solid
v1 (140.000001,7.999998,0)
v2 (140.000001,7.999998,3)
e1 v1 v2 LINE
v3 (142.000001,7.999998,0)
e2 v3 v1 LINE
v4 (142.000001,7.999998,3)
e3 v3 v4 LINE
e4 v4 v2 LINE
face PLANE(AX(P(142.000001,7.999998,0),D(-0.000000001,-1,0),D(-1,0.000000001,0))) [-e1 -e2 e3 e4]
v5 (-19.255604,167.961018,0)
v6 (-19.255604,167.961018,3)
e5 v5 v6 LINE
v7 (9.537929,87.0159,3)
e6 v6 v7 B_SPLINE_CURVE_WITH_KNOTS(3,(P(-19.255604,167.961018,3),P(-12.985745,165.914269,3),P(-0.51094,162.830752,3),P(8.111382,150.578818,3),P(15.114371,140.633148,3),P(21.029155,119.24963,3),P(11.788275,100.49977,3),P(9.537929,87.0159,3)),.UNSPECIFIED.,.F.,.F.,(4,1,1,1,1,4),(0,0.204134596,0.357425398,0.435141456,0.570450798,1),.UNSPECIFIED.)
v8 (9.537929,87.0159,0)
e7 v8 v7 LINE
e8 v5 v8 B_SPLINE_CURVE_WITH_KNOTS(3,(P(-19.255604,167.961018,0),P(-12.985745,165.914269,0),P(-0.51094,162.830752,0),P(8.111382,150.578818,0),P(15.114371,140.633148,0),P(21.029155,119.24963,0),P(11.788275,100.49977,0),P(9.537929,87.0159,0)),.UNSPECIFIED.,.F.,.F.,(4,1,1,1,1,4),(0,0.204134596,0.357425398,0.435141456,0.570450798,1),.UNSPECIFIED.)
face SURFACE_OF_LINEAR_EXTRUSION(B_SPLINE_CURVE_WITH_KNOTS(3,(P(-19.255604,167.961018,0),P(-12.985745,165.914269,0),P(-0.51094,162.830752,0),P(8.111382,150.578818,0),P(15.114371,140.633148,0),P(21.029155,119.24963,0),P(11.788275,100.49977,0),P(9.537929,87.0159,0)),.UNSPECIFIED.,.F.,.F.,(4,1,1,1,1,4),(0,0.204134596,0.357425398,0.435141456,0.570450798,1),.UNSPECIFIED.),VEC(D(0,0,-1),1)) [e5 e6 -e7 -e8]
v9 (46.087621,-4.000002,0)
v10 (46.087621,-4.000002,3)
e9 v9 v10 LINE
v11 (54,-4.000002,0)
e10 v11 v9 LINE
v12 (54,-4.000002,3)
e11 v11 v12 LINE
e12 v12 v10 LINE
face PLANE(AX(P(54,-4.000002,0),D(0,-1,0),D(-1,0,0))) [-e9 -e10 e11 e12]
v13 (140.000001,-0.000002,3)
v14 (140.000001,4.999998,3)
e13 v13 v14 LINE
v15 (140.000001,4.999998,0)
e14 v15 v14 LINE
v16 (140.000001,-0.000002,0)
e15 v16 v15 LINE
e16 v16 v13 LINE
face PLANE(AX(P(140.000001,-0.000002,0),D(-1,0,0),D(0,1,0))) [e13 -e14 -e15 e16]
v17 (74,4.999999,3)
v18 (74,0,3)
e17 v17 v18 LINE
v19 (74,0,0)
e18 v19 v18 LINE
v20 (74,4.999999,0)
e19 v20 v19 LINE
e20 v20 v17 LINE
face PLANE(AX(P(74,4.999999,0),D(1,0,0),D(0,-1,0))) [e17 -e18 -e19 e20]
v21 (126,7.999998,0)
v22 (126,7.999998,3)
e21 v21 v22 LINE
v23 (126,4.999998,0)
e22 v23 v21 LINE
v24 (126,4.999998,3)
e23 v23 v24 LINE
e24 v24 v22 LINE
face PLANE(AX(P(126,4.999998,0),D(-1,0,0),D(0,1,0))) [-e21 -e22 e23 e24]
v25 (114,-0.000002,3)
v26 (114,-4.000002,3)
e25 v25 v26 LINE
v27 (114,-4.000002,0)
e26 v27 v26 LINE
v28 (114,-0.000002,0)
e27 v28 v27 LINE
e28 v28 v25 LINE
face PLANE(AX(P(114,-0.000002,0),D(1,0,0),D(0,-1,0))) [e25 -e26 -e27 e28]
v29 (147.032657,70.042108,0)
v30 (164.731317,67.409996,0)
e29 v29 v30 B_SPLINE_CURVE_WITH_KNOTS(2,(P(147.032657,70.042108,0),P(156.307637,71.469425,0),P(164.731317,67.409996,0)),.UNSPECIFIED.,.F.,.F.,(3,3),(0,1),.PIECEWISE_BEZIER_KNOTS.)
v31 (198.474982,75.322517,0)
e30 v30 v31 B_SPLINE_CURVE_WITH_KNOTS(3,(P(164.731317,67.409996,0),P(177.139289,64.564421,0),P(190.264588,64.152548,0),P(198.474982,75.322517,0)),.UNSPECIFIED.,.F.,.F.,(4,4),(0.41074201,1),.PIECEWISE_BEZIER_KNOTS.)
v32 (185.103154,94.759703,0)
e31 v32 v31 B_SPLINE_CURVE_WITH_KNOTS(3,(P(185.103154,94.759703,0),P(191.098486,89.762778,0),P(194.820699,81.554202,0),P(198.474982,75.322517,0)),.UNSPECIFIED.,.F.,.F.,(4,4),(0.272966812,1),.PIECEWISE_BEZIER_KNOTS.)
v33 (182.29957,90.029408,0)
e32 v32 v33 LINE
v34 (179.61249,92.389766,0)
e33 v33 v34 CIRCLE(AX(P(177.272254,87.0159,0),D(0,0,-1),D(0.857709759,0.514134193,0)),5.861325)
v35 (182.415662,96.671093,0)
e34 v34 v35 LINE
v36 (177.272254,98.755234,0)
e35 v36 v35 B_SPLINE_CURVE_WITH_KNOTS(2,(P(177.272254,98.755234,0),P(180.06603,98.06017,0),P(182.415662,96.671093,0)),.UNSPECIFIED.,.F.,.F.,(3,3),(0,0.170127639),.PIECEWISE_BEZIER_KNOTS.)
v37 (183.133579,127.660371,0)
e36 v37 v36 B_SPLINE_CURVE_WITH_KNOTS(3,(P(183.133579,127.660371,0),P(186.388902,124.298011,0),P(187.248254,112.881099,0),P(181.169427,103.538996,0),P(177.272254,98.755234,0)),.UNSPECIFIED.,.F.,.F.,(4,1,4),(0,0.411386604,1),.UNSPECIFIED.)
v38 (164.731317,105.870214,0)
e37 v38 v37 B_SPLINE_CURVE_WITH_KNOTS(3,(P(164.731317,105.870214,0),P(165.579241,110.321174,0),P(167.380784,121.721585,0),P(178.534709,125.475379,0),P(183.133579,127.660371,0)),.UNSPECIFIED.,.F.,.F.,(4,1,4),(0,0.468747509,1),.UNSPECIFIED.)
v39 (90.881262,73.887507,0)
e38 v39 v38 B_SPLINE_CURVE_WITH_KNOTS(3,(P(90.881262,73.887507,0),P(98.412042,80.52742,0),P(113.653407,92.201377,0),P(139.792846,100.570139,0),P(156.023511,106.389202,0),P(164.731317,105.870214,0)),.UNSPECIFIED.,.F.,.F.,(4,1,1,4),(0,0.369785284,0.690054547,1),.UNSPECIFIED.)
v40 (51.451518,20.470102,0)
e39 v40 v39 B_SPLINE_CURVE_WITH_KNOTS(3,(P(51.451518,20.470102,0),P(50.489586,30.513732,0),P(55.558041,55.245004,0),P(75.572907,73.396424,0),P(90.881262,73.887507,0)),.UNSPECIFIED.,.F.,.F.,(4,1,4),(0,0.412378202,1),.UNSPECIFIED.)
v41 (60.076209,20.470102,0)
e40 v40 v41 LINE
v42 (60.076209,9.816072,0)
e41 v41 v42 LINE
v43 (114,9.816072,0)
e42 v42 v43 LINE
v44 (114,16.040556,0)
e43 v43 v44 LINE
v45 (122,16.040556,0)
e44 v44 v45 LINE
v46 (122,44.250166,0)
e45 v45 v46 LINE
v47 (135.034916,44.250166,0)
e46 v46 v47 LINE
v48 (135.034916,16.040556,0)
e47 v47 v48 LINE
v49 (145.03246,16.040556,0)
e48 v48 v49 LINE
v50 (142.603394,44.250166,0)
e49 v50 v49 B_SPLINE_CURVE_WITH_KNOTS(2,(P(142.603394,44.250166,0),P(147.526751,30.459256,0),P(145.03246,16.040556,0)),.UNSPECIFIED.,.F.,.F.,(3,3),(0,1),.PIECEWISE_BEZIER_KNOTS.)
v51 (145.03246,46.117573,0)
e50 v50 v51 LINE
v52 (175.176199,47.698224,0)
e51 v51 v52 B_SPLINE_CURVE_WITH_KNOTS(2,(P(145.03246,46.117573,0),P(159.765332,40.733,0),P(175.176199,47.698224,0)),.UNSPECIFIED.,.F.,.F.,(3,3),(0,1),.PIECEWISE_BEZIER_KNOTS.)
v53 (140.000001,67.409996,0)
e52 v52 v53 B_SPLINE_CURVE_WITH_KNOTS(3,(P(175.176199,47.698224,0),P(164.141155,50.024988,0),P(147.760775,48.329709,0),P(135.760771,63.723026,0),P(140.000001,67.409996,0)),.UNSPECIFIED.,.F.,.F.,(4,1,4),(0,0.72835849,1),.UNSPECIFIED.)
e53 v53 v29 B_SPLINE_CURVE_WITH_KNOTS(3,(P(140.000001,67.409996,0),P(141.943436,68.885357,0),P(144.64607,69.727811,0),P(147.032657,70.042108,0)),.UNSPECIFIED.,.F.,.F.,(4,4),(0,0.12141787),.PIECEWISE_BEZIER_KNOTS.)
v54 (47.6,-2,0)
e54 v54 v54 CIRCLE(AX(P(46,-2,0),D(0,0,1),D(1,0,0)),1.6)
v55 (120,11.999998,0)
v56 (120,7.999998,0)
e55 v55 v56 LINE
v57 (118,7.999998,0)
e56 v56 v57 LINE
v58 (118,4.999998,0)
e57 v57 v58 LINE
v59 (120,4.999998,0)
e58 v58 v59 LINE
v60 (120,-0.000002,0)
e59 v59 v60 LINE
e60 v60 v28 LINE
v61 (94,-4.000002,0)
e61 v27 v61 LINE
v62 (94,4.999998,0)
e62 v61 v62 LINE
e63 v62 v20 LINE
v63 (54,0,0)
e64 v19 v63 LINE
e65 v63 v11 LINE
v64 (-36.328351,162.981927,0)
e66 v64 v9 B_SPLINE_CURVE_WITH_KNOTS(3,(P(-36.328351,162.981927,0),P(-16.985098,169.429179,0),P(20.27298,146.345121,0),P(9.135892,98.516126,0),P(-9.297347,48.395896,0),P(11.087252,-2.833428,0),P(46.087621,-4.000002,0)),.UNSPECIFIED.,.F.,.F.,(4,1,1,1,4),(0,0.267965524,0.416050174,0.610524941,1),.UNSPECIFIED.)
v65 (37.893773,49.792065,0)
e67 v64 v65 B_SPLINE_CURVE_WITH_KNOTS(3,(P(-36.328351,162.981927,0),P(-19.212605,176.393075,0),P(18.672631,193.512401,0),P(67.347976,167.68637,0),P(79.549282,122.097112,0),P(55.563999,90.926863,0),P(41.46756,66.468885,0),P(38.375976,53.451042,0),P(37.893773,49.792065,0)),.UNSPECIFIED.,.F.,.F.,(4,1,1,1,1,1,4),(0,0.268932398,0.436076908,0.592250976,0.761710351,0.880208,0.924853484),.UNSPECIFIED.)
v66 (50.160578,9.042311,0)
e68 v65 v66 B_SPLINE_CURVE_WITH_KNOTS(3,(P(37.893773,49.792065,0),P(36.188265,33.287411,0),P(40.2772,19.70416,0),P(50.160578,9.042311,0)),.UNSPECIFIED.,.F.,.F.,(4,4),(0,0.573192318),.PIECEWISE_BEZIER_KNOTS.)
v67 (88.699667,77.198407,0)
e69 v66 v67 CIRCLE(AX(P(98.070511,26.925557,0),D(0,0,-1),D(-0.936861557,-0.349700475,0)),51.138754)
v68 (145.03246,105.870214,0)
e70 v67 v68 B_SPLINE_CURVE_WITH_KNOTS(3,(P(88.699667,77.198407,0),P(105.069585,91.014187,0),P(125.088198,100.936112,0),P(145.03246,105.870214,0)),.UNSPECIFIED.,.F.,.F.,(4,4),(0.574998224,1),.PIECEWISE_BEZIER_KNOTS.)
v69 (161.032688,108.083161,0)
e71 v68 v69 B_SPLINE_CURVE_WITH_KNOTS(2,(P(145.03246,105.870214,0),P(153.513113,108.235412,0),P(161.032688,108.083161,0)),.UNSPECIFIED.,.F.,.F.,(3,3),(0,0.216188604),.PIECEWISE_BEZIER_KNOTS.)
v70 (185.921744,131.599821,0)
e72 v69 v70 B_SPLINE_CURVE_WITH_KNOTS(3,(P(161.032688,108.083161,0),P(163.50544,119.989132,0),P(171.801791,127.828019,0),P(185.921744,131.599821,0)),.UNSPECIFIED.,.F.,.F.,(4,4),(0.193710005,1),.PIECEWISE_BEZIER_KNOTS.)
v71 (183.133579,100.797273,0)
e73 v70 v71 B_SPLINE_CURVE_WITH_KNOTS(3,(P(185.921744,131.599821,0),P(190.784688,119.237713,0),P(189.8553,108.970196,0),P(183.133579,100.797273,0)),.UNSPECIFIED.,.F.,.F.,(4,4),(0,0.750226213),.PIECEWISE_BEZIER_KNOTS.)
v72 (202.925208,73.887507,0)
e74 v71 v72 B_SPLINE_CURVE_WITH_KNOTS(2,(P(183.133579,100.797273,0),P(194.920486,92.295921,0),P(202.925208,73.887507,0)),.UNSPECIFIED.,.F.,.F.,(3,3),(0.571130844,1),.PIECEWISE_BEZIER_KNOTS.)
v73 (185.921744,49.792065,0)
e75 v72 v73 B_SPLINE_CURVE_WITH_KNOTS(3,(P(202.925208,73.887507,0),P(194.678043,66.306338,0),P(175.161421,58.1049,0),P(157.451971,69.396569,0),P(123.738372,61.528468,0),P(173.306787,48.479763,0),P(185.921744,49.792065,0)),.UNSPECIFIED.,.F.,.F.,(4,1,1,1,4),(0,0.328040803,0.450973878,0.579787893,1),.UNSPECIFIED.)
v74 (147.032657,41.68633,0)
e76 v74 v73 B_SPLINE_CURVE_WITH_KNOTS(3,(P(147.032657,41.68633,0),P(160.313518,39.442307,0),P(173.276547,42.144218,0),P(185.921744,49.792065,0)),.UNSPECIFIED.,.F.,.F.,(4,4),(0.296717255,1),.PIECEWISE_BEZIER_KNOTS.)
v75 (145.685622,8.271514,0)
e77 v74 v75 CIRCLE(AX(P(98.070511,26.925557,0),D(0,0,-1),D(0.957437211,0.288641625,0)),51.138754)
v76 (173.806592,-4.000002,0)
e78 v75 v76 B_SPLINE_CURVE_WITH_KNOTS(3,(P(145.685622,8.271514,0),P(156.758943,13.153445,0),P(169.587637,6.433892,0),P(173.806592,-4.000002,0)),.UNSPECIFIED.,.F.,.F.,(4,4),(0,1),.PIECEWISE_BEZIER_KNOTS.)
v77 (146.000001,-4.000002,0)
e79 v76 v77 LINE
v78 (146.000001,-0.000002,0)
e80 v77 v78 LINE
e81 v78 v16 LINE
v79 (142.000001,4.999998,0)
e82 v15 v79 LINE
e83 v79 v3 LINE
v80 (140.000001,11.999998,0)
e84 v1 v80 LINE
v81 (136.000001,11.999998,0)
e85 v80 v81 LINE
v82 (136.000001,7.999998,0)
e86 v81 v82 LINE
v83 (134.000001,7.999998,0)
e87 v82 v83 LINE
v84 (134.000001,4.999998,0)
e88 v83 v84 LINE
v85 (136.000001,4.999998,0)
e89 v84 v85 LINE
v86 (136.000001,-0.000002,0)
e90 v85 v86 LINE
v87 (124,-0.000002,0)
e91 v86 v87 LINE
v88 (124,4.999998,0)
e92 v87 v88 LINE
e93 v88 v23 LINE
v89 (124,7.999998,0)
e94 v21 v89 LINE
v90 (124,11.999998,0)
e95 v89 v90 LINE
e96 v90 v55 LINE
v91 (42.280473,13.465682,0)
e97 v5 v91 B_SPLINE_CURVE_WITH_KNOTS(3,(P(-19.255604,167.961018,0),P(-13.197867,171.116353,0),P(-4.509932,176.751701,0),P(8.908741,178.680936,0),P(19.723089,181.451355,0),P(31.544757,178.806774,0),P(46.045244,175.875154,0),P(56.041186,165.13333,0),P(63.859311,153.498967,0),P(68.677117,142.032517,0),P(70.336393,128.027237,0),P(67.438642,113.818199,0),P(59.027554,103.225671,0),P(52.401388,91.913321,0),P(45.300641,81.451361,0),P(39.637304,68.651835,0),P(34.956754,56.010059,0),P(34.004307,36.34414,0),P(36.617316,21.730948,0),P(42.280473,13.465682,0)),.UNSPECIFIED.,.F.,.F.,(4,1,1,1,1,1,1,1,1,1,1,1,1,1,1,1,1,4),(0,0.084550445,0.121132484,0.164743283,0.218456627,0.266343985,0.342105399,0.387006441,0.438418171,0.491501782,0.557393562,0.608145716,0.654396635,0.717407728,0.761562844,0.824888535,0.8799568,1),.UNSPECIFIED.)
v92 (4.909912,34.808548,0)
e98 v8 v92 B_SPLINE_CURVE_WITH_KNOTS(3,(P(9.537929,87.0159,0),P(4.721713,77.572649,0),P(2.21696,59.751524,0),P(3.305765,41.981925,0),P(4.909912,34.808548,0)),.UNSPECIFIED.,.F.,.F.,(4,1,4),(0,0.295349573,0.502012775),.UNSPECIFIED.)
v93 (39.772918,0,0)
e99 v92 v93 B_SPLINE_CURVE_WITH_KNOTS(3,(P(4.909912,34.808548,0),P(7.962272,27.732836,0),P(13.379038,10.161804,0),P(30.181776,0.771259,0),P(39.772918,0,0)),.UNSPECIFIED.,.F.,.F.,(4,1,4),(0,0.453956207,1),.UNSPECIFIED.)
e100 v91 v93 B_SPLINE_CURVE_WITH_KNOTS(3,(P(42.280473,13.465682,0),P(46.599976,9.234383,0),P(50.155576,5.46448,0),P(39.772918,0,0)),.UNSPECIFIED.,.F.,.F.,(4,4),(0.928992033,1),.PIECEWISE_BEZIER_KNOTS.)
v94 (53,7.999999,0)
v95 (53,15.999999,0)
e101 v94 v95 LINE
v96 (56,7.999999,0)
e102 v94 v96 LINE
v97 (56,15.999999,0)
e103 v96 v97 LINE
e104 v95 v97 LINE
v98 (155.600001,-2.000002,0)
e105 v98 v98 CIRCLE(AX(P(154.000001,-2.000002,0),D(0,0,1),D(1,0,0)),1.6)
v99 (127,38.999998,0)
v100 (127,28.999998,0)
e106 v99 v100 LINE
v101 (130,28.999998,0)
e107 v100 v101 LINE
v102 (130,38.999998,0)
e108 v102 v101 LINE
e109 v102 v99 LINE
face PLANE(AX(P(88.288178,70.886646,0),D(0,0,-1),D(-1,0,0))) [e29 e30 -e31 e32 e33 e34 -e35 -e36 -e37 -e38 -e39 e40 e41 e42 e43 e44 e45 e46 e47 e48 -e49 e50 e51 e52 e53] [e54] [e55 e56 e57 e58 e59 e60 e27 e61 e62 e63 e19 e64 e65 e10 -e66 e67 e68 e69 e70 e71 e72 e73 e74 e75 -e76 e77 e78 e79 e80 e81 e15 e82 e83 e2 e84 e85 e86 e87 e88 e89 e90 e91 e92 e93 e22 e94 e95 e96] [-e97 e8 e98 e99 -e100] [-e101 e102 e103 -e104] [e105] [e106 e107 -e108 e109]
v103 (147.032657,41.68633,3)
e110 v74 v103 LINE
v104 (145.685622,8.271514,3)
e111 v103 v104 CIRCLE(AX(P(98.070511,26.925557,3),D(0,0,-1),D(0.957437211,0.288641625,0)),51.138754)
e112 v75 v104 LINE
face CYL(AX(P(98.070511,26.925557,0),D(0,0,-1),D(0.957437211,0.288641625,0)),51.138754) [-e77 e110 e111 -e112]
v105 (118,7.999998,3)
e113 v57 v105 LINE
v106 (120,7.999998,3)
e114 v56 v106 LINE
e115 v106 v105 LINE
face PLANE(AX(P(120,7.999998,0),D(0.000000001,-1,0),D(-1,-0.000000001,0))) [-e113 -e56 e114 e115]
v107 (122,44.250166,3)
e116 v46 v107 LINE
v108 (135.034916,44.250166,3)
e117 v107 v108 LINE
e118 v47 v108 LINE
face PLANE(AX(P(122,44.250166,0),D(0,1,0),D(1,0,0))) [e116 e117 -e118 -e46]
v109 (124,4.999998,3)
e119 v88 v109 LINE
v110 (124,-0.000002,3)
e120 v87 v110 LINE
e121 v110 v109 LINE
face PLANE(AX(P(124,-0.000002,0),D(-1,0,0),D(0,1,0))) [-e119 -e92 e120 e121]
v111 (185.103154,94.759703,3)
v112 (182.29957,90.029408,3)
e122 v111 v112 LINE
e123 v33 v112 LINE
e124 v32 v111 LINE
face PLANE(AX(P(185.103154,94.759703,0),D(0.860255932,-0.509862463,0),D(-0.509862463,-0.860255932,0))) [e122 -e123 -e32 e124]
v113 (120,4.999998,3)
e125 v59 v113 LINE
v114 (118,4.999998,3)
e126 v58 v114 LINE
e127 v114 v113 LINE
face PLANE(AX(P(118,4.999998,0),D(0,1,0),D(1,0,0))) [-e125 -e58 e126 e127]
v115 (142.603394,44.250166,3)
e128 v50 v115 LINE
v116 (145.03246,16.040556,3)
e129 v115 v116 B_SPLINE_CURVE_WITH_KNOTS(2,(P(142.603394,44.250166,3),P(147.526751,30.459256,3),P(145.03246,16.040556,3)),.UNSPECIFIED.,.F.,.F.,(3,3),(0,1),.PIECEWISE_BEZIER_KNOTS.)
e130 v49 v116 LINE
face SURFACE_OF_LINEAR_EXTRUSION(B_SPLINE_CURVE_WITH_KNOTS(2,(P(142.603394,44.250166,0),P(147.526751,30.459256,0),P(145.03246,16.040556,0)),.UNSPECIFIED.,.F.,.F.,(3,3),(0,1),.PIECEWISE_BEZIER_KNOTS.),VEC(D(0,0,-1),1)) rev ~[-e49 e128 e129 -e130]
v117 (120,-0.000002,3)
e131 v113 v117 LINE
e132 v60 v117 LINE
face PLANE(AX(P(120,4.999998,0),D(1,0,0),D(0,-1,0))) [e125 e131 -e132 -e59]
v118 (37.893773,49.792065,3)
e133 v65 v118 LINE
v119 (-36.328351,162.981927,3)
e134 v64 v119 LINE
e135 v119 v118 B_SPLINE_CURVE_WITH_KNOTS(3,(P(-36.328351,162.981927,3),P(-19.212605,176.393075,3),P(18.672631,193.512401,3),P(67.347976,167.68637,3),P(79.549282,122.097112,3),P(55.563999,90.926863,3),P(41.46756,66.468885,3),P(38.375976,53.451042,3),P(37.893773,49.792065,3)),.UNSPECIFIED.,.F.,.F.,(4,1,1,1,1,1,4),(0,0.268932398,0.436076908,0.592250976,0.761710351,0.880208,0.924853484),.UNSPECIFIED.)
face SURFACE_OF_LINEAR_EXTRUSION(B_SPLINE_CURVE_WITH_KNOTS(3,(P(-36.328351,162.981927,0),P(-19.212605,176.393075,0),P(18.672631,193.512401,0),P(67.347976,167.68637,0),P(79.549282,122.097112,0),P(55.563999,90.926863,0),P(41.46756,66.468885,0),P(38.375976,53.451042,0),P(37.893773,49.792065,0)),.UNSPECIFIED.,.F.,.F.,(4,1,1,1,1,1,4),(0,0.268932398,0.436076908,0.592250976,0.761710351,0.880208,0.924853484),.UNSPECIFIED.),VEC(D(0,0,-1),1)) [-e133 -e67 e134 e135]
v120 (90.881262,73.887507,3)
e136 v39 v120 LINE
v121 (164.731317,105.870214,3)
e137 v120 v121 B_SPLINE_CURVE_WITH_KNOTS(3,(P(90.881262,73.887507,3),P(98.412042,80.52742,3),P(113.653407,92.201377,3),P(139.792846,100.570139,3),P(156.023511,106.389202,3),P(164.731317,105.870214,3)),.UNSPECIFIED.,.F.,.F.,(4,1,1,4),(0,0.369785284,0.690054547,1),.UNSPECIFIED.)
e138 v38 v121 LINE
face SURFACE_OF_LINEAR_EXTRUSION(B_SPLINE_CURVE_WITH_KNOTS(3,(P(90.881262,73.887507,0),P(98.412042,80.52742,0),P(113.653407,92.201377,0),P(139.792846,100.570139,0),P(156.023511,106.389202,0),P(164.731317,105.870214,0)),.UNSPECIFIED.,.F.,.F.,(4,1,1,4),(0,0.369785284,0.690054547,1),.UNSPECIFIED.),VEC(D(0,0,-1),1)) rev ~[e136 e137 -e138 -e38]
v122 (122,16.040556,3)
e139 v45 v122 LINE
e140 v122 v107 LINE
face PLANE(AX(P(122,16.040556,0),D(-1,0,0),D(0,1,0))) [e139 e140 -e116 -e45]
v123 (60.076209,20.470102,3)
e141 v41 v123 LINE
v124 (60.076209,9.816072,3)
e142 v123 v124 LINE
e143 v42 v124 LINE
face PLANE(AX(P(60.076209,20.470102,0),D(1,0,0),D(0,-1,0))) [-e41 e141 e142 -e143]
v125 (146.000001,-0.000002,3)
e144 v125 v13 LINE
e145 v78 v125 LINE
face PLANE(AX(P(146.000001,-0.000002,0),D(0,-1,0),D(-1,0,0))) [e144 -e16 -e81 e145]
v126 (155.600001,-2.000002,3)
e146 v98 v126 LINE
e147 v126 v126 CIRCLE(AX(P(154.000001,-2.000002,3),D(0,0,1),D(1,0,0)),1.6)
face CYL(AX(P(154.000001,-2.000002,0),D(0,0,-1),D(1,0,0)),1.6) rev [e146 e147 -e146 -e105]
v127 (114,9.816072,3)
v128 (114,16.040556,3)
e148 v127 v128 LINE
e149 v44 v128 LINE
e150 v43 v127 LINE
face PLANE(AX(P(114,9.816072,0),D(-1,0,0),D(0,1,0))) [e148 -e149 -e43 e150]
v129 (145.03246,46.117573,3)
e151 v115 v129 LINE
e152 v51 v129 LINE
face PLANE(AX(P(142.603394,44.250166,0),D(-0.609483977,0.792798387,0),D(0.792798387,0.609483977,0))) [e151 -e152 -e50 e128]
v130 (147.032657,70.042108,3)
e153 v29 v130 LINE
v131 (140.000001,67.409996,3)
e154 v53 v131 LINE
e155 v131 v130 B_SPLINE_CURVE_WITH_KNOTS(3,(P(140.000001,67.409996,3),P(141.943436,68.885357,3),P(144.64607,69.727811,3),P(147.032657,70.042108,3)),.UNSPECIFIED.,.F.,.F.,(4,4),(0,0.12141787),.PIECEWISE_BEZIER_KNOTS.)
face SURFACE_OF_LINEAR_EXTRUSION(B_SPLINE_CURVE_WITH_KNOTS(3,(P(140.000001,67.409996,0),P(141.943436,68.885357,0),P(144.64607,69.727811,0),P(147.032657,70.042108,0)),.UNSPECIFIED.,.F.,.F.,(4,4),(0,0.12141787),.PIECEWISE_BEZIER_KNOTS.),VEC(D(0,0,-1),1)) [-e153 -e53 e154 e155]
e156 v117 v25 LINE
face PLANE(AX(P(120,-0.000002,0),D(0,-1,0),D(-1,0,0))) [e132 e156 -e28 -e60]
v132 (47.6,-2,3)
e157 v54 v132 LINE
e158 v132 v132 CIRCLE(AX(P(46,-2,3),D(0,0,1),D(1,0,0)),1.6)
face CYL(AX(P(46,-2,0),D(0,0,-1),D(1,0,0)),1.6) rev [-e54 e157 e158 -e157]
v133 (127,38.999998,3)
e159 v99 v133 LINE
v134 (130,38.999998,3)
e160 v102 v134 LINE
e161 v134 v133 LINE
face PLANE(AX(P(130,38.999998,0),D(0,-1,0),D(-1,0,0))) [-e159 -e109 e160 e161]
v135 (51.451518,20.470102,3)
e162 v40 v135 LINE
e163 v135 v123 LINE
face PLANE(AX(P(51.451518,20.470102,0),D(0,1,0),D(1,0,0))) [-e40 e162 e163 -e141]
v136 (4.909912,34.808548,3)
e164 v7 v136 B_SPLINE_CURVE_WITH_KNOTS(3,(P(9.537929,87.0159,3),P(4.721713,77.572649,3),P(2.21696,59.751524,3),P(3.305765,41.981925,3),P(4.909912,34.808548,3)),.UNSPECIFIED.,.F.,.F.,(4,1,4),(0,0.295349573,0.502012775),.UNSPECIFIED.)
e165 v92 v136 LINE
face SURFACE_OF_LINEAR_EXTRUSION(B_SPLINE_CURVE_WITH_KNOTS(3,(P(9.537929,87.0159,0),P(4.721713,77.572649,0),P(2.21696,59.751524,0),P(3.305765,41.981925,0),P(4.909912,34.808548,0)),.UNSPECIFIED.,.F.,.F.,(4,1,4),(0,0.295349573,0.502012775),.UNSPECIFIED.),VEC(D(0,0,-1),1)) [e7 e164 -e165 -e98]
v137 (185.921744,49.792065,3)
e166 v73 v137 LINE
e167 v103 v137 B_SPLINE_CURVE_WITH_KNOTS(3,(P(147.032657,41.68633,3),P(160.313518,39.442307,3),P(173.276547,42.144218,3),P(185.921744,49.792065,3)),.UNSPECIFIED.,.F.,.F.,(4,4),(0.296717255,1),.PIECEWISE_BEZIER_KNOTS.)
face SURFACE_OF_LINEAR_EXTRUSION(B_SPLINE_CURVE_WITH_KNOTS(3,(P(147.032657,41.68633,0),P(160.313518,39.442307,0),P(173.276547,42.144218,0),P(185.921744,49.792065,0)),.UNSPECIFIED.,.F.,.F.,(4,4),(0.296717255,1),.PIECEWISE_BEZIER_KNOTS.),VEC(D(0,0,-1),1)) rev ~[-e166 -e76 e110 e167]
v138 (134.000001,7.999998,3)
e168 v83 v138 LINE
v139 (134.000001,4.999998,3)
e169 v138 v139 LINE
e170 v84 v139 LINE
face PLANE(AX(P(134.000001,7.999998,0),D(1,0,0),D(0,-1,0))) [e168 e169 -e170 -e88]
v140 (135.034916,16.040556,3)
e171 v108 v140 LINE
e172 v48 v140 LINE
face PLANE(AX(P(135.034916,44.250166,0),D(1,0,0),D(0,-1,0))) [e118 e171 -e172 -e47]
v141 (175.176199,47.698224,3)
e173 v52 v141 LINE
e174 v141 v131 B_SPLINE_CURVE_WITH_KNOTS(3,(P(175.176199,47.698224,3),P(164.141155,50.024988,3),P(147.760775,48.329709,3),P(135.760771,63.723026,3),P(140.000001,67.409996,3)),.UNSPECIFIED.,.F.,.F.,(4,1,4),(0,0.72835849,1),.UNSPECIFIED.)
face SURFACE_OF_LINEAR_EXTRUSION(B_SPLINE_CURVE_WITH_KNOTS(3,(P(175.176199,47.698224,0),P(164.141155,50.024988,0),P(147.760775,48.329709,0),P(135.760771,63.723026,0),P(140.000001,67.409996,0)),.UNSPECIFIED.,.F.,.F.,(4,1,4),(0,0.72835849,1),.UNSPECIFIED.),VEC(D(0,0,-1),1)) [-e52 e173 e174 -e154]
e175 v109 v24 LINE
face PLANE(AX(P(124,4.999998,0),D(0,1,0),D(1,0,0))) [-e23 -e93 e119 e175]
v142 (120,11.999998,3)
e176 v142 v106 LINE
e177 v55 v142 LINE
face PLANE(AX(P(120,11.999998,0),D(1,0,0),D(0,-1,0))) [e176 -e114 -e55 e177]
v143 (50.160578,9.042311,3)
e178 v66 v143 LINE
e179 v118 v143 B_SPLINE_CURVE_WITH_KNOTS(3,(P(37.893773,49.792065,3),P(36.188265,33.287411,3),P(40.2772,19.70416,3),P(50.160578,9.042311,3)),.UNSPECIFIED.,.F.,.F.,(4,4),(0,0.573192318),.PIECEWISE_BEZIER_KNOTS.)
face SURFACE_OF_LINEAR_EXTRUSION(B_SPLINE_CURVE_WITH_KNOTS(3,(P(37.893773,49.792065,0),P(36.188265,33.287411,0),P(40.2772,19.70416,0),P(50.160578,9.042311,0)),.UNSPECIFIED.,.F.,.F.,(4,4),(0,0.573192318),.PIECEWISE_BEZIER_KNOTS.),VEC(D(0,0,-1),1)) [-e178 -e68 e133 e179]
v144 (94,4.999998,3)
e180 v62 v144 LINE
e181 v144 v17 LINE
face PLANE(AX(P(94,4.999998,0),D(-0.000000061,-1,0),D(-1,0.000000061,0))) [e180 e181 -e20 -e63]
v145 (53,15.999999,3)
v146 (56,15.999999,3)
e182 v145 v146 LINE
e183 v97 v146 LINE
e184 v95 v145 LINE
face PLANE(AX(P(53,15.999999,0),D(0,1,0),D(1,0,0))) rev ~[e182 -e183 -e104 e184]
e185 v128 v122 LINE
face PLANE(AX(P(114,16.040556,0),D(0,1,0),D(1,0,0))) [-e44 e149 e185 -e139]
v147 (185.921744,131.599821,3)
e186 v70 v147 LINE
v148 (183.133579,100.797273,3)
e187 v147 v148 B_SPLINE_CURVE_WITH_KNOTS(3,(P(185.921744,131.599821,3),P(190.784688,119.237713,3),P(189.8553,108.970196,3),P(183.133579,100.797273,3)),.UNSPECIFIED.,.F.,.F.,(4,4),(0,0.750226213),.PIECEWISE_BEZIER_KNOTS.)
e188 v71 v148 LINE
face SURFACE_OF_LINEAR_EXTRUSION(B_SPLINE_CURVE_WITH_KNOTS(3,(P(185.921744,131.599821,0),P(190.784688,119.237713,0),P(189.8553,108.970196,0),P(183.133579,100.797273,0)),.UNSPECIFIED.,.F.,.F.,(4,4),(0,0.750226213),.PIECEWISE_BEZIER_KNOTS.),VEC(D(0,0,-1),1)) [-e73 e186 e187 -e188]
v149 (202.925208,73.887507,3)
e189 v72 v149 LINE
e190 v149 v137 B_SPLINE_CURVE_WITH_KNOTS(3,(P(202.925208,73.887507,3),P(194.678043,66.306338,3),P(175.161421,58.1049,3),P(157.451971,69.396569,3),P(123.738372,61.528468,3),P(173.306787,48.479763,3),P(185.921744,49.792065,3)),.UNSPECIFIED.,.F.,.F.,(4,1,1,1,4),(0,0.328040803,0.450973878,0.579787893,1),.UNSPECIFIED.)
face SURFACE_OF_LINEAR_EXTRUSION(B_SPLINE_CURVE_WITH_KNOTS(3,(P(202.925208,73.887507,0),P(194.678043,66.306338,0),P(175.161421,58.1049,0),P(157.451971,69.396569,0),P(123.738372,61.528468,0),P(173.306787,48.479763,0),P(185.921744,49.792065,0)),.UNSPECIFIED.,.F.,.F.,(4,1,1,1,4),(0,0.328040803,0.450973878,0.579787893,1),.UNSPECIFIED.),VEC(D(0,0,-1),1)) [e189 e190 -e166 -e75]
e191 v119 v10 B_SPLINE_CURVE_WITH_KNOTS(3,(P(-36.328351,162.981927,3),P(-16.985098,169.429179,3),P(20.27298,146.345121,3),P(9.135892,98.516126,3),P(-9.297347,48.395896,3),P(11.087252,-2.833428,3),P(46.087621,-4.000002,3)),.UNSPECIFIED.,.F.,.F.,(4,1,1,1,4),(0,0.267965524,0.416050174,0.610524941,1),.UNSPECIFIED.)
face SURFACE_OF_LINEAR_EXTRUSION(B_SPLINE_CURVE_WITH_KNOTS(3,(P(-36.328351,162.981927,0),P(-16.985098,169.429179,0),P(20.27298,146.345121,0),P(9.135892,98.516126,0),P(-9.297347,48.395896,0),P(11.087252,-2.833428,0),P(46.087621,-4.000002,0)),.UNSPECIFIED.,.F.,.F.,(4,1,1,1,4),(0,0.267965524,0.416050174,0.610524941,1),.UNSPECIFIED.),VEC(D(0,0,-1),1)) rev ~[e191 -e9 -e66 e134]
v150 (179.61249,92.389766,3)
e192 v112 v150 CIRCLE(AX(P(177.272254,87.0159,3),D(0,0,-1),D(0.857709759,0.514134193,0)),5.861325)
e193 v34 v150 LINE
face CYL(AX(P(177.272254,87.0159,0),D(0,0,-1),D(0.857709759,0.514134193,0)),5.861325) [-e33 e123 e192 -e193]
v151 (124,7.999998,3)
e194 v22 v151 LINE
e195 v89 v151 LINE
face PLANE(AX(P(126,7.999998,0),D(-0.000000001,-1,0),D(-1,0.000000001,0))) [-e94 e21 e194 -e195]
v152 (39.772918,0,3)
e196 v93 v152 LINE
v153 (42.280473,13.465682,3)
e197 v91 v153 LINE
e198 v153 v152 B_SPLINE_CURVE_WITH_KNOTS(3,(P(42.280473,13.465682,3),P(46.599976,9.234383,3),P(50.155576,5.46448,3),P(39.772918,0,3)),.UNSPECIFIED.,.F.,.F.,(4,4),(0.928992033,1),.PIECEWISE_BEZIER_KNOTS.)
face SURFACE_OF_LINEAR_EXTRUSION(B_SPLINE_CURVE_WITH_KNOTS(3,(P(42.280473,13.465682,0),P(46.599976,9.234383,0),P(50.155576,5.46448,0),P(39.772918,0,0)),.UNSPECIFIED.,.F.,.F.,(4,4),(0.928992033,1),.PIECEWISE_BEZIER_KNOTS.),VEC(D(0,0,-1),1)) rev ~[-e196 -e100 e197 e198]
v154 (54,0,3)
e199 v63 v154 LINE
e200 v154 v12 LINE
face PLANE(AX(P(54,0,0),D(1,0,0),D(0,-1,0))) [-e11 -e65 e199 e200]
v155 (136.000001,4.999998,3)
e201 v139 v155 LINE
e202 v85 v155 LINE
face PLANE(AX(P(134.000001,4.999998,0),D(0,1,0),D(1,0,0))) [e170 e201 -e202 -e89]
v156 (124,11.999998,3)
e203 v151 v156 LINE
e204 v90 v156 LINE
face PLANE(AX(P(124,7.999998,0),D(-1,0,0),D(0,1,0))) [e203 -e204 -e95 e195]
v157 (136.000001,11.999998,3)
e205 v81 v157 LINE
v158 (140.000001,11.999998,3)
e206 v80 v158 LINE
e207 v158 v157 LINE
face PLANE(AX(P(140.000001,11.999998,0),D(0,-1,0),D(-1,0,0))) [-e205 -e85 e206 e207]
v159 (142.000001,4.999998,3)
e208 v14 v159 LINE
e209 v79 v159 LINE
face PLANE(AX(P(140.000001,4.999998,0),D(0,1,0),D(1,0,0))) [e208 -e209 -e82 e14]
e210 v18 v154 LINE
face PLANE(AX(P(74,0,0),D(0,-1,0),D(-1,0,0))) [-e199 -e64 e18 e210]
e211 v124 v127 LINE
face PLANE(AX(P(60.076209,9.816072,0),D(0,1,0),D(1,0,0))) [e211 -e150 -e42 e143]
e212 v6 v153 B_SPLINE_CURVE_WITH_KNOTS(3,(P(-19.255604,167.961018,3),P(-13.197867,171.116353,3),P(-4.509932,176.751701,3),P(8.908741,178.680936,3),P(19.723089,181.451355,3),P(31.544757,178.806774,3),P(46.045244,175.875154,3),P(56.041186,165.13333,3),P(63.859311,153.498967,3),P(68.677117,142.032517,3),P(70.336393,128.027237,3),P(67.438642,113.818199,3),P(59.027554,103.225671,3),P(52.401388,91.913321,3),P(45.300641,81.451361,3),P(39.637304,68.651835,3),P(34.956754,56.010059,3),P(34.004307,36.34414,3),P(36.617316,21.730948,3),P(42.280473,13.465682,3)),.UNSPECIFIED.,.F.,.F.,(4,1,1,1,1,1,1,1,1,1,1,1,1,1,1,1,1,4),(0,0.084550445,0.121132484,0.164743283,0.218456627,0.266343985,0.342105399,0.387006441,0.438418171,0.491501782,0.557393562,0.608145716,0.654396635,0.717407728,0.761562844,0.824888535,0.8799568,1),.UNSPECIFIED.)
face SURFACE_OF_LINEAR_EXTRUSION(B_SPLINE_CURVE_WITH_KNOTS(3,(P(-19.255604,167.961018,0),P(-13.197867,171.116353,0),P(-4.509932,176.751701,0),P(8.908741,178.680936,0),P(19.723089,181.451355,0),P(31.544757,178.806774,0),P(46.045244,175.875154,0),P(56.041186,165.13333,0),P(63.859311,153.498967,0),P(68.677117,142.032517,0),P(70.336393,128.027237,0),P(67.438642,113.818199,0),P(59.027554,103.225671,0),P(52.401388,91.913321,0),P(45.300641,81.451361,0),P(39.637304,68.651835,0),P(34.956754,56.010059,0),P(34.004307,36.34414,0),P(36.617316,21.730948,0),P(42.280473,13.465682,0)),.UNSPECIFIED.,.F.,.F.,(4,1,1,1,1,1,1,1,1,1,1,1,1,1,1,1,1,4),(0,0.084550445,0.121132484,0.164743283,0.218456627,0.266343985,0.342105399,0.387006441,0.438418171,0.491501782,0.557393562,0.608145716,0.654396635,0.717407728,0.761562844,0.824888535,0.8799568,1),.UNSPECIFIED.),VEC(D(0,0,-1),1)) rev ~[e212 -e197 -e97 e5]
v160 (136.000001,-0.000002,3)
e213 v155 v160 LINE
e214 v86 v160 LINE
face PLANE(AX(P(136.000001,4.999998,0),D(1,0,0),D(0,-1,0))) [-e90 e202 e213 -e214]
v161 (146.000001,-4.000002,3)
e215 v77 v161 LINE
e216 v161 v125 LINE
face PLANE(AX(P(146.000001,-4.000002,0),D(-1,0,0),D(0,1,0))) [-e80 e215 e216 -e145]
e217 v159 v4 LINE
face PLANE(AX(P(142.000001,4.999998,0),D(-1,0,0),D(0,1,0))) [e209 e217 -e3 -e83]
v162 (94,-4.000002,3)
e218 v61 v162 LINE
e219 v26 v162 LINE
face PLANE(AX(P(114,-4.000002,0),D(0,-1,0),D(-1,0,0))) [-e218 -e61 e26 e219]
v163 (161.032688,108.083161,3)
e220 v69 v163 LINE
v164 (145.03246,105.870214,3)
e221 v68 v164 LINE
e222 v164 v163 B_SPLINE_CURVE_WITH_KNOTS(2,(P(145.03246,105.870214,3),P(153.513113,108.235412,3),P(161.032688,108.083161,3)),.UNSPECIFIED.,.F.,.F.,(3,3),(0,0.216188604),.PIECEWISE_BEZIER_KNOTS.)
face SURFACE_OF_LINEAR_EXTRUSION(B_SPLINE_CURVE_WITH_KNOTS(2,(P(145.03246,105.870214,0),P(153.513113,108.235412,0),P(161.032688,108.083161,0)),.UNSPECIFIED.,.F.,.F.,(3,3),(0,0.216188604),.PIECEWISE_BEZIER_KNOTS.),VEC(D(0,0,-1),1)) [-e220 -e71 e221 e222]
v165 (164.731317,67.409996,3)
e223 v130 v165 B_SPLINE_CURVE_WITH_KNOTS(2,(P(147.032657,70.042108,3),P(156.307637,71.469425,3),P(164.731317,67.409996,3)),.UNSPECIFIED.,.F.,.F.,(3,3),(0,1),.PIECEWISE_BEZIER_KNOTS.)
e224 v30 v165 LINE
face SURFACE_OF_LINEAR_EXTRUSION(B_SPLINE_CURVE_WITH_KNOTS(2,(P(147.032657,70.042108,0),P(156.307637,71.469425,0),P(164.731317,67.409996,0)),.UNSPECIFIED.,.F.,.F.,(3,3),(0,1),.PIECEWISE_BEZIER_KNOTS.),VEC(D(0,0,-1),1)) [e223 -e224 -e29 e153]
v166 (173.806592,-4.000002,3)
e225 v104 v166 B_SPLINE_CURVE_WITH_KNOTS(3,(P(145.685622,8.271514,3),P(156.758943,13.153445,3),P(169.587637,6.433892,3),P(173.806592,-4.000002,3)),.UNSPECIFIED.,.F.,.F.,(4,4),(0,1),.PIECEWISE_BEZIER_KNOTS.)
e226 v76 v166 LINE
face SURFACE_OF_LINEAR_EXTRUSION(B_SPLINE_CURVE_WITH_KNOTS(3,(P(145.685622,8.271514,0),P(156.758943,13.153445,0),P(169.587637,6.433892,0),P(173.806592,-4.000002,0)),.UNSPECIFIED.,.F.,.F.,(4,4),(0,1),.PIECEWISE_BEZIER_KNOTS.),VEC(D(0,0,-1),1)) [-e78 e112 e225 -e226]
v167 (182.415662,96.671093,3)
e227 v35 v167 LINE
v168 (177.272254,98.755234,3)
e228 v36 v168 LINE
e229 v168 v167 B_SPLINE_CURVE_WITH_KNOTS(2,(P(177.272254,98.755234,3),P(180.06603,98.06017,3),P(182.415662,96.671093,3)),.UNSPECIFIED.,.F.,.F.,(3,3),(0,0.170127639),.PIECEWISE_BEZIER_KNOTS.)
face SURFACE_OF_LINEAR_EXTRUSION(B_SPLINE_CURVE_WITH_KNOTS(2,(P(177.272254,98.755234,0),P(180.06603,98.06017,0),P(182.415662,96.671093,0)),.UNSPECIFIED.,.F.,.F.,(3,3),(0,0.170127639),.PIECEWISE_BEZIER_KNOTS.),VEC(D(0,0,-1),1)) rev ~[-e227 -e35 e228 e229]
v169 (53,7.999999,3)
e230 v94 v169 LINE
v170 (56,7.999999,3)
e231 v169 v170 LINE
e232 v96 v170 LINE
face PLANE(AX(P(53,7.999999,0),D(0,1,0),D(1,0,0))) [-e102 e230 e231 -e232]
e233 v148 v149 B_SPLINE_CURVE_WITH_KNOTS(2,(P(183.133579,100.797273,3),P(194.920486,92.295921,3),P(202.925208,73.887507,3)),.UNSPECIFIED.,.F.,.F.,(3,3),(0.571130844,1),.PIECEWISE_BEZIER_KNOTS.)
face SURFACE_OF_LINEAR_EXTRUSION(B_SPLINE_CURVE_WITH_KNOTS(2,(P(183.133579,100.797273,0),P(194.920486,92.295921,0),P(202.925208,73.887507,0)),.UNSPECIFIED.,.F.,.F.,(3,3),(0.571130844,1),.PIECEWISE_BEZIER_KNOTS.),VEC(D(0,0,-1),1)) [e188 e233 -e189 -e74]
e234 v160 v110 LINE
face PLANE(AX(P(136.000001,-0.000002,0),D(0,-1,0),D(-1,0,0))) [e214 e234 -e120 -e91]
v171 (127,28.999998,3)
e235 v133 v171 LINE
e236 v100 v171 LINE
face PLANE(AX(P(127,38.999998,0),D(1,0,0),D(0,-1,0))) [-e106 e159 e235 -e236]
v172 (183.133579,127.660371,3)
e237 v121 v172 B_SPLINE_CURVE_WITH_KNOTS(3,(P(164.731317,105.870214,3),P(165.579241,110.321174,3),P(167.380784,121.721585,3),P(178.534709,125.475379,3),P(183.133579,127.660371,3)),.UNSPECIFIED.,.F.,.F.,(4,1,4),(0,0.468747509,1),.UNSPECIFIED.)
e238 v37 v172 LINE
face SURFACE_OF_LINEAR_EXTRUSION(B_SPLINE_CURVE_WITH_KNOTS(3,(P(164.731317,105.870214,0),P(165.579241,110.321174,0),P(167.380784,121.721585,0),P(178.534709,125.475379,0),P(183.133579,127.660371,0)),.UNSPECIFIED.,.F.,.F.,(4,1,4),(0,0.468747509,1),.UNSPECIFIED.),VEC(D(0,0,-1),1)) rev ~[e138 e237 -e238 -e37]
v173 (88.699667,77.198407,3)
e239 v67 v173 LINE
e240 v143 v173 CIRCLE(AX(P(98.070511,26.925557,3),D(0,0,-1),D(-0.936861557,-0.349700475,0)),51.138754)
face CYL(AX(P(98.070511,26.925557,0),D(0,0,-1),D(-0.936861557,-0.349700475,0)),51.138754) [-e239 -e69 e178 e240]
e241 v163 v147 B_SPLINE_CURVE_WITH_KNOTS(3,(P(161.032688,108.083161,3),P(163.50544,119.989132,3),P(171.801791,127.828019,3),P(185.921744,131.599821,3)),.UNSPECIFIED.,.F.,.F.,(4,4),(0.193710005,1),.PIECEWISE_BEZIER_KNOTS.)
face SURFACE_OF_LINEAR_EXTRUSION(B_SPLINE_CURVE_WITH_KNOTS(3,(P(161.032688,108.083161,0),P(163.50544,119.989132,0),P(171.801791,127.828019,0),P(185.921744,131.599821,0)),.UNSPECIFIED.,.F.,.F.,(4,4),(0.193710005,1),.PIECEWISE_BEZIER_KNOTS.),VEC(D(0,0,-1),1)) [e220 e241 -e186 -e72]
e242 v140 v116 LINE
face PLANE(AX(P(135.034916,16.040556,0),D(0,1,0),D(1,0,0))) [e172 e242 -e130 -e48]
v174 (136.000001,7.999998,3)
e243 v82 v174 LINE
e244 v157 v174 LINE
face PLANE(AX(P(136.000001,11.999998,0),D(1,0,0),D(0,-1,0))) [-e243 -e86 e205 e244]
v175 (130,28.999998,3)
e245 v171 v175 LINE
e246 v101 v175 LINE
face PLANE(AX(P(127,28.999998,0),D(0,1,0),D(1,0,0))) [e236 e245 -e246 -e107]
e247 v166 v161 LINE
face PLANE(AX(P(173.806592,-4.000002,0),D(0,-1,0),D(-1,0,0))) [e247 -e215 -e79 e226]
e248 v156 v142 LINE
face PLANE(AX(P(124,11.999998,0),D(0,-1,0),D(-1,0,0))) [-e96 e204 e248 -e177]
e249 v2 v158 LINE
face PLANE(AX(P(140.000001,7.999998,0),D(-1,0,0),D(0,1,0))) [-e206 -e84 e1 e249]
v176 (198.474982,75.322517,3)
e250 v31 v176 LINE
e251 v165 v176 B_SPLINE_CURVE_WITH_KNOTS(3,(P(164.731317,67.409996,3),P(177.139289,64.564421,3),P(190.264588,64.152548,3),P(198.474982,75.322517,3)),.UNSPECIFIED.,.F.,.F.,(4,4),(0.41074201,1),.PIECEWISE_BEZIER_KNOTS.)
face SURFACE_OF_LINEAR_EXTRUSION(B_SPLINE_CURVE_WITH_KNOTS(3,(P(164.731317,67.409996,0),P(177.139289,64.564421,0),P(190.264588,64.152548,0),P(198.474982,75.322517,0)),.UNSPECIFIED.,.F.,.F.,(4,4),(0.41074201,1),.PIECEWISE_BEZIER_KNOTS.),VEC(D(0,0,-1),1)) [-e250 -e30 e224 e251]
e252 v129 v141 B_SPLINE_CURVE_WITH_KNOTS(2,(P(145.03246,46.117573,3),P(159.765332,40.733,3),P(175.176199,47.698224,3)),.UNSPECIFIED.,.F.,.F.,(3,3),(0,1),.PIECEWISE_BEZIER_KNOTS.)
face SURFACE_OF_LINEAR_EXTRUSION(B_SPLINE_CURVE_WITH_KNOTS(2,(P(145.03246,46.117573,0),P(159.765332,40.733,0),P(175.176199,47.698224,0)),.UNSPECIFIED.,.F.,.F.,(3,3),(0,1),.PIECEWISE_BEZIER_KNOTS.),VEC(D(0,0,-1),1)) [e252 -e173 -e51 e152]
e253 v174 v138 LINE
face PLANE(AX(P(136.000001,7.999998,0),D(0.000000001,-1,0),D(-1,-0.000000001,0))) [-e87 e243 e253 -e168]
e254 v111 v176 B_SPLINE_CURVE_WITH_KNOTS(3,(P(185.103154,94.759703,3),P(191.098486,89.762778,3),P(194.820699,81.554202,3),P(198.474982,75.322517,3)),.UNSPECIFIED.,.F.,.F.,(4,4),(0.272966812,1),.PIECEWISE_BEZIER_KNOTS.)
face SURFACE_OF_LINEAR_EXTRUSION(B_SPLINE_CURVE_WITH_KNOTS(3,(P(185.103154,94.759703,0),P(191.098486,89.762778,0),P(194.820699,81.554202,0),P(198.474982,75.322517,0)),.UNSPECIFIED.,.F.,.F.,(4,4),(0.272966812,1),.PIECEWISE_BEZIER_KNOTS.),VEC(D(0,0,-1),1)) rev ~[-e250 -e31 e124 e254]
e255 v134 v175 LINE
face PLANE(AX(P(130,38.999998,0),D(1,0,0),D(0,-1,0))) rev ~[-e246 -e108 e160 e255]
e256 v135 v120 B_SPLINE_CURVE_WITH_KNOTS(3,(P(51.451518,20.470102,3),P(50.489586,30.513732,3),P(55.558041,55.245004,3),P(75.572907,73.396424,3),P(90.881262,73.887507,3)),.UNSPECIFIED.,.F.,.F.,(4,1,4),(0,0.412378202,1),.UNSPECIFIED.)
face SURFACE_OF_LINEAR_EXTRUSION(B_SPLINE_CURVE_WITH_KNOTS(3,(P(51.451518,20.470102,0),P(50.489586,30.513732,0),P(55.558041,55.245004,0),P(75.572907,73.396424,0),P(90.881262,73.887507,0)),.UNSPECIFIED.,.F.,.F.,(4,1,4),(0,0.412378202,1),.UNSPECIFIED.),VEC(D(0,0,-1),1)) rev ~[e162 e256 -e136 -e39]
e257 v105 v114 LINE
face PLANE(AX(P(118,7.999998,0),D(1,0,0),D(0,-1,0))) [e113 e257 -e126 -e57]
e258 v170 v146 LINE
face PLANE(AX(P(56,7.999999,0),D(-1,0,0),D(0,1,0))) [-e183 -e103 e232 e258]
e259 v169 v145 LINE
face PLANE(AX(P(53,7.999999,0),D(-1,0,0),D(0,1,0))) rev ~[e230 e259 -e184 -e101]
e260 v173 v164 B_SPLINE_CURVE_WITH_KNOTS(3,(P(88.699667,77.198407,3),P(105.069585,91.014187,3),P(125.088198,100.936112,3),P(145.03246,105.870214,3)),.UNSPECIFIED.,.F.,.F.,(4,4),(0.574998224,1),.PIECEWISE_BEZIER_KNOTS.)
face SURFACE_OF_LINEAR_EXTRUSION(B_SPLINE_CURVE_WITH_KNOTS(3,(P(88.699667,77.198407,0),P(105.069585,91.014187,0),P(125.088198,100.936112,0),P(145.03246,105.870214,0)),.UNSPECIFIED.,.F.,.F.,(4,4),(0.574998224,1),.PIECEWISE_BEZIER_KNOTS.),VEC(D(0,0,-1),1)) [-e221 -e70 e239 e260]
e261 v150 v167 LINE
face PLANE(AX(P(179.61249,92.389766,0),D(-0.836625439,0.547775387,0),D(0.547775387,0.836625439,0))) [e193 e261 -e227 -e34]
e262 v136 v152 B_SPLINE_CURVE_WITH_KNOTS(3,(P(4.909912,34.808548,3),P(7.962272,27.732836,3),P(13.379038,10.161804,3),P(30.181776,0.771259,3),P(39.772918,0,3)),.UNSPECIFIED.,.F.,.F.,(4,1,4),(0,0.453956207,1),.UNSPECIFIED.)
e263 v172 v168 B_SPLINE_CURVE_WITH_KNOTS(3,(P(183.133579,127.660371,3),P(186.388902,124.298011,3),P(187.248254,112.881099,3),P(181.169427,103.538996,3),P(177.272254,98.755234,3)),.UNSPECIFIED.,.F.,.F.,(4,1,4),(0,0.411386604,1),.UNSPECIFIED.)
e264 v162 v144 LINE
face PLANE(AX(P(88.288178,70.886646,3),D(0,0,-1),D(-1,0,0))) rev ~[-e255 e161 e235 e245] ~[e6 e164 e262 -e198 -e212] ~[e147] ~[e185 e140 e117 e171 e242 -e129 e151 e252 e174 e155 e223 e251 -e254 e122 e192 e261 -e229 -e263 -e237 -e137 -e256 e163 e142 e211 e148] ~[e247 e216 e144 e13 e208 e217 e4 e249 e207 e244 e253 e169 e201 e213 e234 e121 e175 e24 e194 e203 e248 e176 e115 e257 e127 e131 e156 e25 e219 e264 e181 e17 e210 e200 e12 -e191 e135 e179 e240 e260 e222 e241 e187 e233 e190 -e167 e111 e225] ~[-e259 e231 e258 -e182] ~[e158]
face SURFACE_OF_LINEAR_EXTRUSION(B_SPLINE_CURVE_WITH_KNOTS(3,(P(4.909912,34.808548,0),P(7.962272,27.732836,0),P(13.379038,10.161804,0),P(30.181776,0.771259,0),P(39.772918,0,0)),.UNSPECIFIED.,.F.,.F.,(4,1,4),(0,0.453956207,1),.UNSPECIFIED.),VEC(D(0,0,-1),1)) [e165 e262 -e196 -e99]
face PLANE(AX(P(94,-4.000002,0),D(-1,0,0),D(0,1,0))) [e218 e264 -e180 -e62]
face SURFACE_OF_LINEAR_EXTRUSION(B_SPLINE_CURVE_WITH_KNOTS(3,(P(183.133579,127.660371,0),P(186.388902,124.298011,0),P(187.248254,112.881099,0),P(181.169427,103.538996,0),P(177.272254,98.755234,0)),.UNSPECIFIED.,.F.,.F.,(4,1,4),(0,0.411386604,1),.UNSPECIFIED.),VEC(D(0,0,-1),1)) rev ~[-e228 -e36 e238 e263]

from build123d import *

# Parameters (mm, degrees)
SKETCH_1_R      = 1.6
SKETCH_1_R_2    = 1.600000009
SKETCH_1_W      = 3
SKETCH_1_H      = 8
EXTRUDE_1_DEPTH = 3


with BuildPart() as part:
    # 草图1 → 凸台-拉伸1 (new body)
    with BuildSketch(Plane.XY):
        with BuildLine():
            Line((146.000000814, -2.351e-06), (140.000000814, -2.351e-06))
            Line((140.000000814, -2.351e-06), (140.000000814, 4.999997649))
            Line((140.000000814, 4.999997649), (142.000000814, 4.999997649))
            Line((142.000000814, 4.999997649), (142.000000814, 7.999997649))
            Line((142.000000814, 7.999997649), (140.000000814, 7.99999765))
            Line((140.000000814, 7.99999765), (140.000000814, 11.999997649))
            Line((140.000000814, 11.999997649), (136.000000814, 11.999997649))
            Line((136.000000814, 11.999997649), (136.000000814, 7.99999765))
            Line((136.000000814, 7.99999765), (134.000000814, 7.999997649))
            Line((134.000000814, 7.999997649), (134.000000814, 4.999997649))
            Line((134.000000814, 4.999997649), (136.000000814, 4.999997649))
            Line((136.000000814, 4.999997649), (136.000000814, -2.351e-06))
            Line((136.000000814, -2.351e-06), (123.999999977, -2.351e-06))
            Line((123.999999977, -2.351e-06), (123.999999977, 4.999997649))
            Line((123.999999977, 4.999997649), (125.999999977, 4.999997649))
            Line((125.999999977, 4.999997649), (125.999999977, 7.999997649))
            Line((125.999999977, 7.999997649), (123.999999977, 7.99999765))
            Line((123.999999977, 7.99999765), (123.999999977, 11.999997649))
            Line((123.999999977, 11.999997649), (119.999999977, 11.999997649))
            Line((119.999999977, 11.999997649), (119.999999977, 7.99999765))
            Line((119.999999977, 7.99999765), (117.999999977, 7.999997649))
            Line((117.999999977, 7.999997649), (117.999999977, 4.999997649))
            Line((117.999999977, 4.999997649), (119.999999977, 4.999997649))
            Line((119.999999977, 4.999997649), (119.999999977, -2.351e-06))
            Line((119.999999977, -2.351e-06), (113.999999977, -2.351e-06))
            Line((113.999999977, -2.351e-06), (113.999999977, -4.000002351))
            Line((113.999999977, -4.000002351), (93.999999977, -4.000002351))
            Line((93.999999977, -4.000002351), (93.999999977, 4.999997649))
            Line((93.999999977, 4.999997649), (73.999999977, 4.999998866))
            Line((73.999999977, 4.999998866), (73.999999977, 0))
            Line((73.999999977, 0), (53.999999977, 0))
            Line((53.999999977, 0), (53.999999977, -4.000002351))
            Line((53.999999977, -4.000002351), (46.08762105, -4.000002351))
            add(Edge.make_bspline(
                [(-36.328351114, 162.981926911), (-16.985097945, 169.429178788), (20.272979731, 146.34512069), (9.135892142, 98.516125938), (-9.297347109, 48.395895966), (11.087251884, -2.833428325), (46.08762105, -4.000002351)],
                knots=[0, 0, 0, 0, 0.267965524, 0.416050174, 0.610524941, 1, 1, 1, 1], degree=3))
            add(Edge.make_bspline(
                [(-36.328351114, 162.981926911), (-19.212605279, 176.393074807), (18.672630794, 193.512400891), (67.347976372, 167.686369959), (79.549282406, 122.097112344), (55.563999492, 90.926863056), (41.467559873, 66.468884892), (38.375976124, 53.451041954), (37.893772805, 49.792065307)],
                knots=[0, 0, 0, 0, 0.268932398, 0.436076908, 0.592250976, 0.761710351, 0.880208, 0.924853484, 0.924853484, 0.924853484, 0.924853484], degree=3))
            add(Edge.make_bspline(
                [(37.893772805, 49.792065307), (36.188264686, 33.287411379), (40.277199836, 19.704159891), (50.160578254, 9.042310843)],
                knots=[0, 0, 0, 0, 0.573192318, 0.573192318, 0.573192318, 0.573192318], degree=3))
            ThreePointArc((50.160578254, 9.042310843), (53.555511196, 52.09671049), (88.699667478, 77.198407204))
            add(Edge.make_bspline(
                [(88.699667478, 77.198407204), (105.069584697, 91.014186945), (125.08819759, 100.936112364), (145.032460118, 105.870213559)],
                knots=[0.574998224, 0.574998224, 0.574998224, 0.574998224, 1, 1, 1, 1], degree=3))
            add(Edge.make_bspline(
                [(145.032460118, 105.870213559), (153.513112826, 108.235412429), (161.032687623, 108.083161053)],
                knots=[0, 0, 0, 0.216188604, 0.216188604, 0.216188604], degree=2))
            add(Edge.make_bspline(
                [(161.032687623, 108.083161053), (163.505439553, 119.989132355), (171.801790989, 127.828018989), (185.921743601, 131.599820923)],
                knots=[0.193710005, 0.193710005, 0.193710005, 0.193710005, 1, 1, 1, 1], degree=3))
            add(Edge.make_bspline(
                [(185.921743601, 131.599820923), (190.784688072, 119.237712596), (189.855300178, 108.970196407), (183.13357926, 100.797272831)],
                knots=[0, 0, 0, 0, 0.750226213, 0.750226213, 0.750226213, 0.750226213], degree=3))
            add(Edge.make_bspline(
                [(183.13357926, 100.797272831), (194.920485534, 92.295921303), (202.92520802, 73.887506676)],
                knots=[0.571130844, 0.571130844, 0.571130844, 1, 1, 1], degree=2))
            add(Edge.make_bspline(
                [(202.92520802, 73.887506676), (194.67804276, 66.306338448), (175.161420749, 58.104899882), (157.451970937, 69.396569277), (123.73837201, 61.528468102), (173.306787435, 48.479763228), (185.921743601, 49.792065307)],
                knots=[0, 0, 0, 0, 0.328040803, 0.450973878, 0.579787893, 1, 1, 1, 1], degree=3))
            add(Edge.make_bspline(
                [(147.032656556, 41.686330301), (160.313517728, 39.442306564), (173.276546743, 42.144218232), (185.921743601, 49.792065307)],
                knots=[0.296717255, 0.296717255, 0.296717255, 0.296717255, 1, 1, 1, 1], degree=3))
            ThreePointArc((147.032656556, 41.686330301), (149.167762406, 24.865699568), (145.685621904, 8.271514057))
            add(Edge.make_bspline(
                [(145.685621904, 8.271514057), (156.758942687, 13.153444732), (169.587636633, 6.433891588), (173.806591844, -4.000002351)],
                knots=[0, 0, 0, 0, 1, 1, 1, 1], degree=3))
            Line((173.806591844, -4.000002351), (146.000000814, -4.000002351))
            Line((146.000000814, -4.000002351), (146.000000814, -2.351e-06))
        make_face()
        with Locations((154.000000579, -2.000002061)):
            Circle(SKETCH_1_R, mode=Mode.SUBTRACT)
        with Locations((46.000000001, -1.999999674)):
            Circle(SKETCH_1_R_2, mode=Mode.SUBTRACT)
        with BuildLine():
            Line((51.451518273, 20.470101797), (60.076208852, 20.470101797))
            Line((60.076208852, 20.470101797), (60.076208852, 9.816072259))
            Line((60.076208852, 9.816072259), (113.999999977, 9.816072259))
            Line((113.999999977, 9.816072259), (113.999999977, 16.04055611))
            Line((113.999999977, 16.04055611), (121.999999977, 16.04055611))
            Line((121.999999977, 16.04055611), (121.999999977, 44.250166338))
            Line((121.999999977, 44.250166338), (135.034915791, 44.250166338))
            Line((135.034915791, 44.250166338), (135.034915791, 16.04055611))
            Line((135.034915791, 16.04055611), (145.032460118, 16.04055611))
            add(Edge.make_bspline(
                [(142.603393773, 44.250166338), (147.526750549, 30.459255751), (145.032460118, 16.04055611)],
                knots=[0, 0, 0, 1, 1, 1], degree=2))
            Line((142.603393773, 44.250166338), (145.032460118, 46.117573034))
            add(Edge.make_bspline(
                [(145.032460118, 46.117573034), (159.765331973, 40.733000292), (175.176199018, 47.698224186)],
                knots=[0, 0, 0, 1, 1, 1], degree=2))
            add(Edge.make_bspline(
                [(175.176199018, 47.698224186), (164.141155333, 50.024987749), (147.760775089, 48.329708919), (135.760771477, 63.723026479), (140.000000814, 67.409996421)],
                knots=[0, 0, 0, 0, 0.72835849, 1, 1, 1, 1], degree=3))
            add(Edge.make_bspline(
                [(140.000000814, 67.409996421), (141.943435941, 68.885356719), (144.646069701, 69.727810862), (147.032656556, 70.042108212)],
                knots=[0, 0, 0, 0, 0.12141787, 0.12141787, 0.12141787, 0.12141787], degree=3))
            add(Edge.make_bspline(
                [(147.032656556, 70.042108212), (156.30763716, 71.469425061), (164.731316957, 67.409996421)],
                knots=[0, 0, 0, 1, 1, 1], degree=2))
            add(Edge.make_bspline(
                [(164.731316957, 67.409996421), (177.139289233, 64.564420748), (190.264588085, 64.152548316), (198.474981518, 75.322517317)],
                knots=[0.41074201, 0.41074201, 0.41074201, 0.41074201, 1, 1, 1, 1], degree=3))
            add(Edge.make_bspline(
                [(185.103153591, 94.759702543), (191.098486191, 89.762778463), (194.820698548, 81.554201533), (198.474981518, 75.322517317)],
                knots=[0.272966812, 0.272966812, 0.272966812, 0.272966812, 1, 1, 1, 1], degree=3))
            Line((185.103153591, 94.759702543), (182.299569864, 90.029408179))
            ThreePointArc((182.299569864, 90.029408179), (173.404046675, 82.612253299), (179.612489769, 92.389765952))
            Line((179.612489769, 92.389765952), (182.415662425, 96.671092948))
            add(Edge.make_bspline(
                [(177.272253905, 98.755234122), (180.06602998, 98.060170063), (182.415662425, 96.671092948)],
                knots=[0, 0, 0, 0.170127639, 0.170127639, 0.170127639], degree=2))
            add(Edge.make_bspline(
                [(183.13357926, 127.660371238), (186.388901551, 124.29801059), (187.248253912, 112.881099328), (181.16942725, 103.538995792), (177.272253905, 98.755234122)],
                knots=[0, 0, 0, 0, 0.411386604, 1, 1, 1, 1], degree=3))
            add(Edge.make_bspline(
                [(164.731316957, 105.870213559), (165.579240961, 110.321174129), (167.380783973, 121.721585243), (178.534709472, 125.475378959), (183.13357926, 127.660371238)],
                knots=[0, 0, 0, 0, 0.468747509, 1, 1, 1, 1], degree=3))
            add(Edge.make_bspline(
                [(90.881261911, 73.887506676), (98.412041567, 80.527419506), (113.653406911, 92.201377123), (139.792845663, 100.570138786), (156.023510701, 106.389201519), (164.731316957, 105.870213559)],
                knots=[0, 0, 0, 0, 0.369785284, 0.690054547, 1, 1, 1, 1], degree=3))
            add(Edge.make_bspline(
                [(51.451518273, 20.470101797), (50.489586181, 30.513732415), (55.55804085, 55.245004243), (75.572906955, 73.396423686), (90.881261911, 73.887506676)],
                knots=[0, 0, 0, 0, 0.412378202, 1, 1, 1, 1], degree=3))
        make_face(mode=Mode.SUBTRACT)
        Polygon((130.000000395, 31.999997649), (130.000000395, 38.999997649), (127.000000395, 38.999997649), (127.000000395, 28.999997649), (130.000000395, 28.999997649), align=None, mode=Mode.SUBTRACT)
        with Locations((54.499999982, 11.999998989)):
            Rectangle(SKETCH_1_W, SKETCH_1_H, mode=Mode.SUBTRACT)
        with BuildLine():
            add(Edge.make_bspline(
                [(-19.25560447, 167.961018402), (-12.985744942, 165.914268895), (-0.510939815, 162.830752158), (8.111381979, 150.578818422), (15.1143708, 140.63314777), (21.029155415, 119.249629572), (11.788274922, 100.499770018), (9.537929047, 87.015900395)],
                knots=[0, 0, 0, 0, 0.204134596, 0.357425398, 0.435141456, 0.570450798, 1, 1, 1, 1], degree=3))
            add(Edge.make_bspline(
                [(9.537929047, 87.015900395), (4.72171283, 77.572648661), (2.216959909, 59.751523956), (3.305764606, 41.981925331), (4.909911596, 34.808548106)],
                knots=[0, 0, 0, 0, 0.295349573, 0.502012775, 0.502012775, 0.502012775, 0.502012775], degree=3))
            add(Edge.make_bspline(
                [(4.909911596, 34.808548106), (7.962271928, 27.73283555), (13.379038095, 10.161804414), (30.181776246, 0.771258644), (39.772918478, 0)],
                knots=[0, 0, 0, 0, 0.453956207, 1, 1, 1, 1], degree=3))
            add(Edge.make_bspline(
                [(42.280473116, 13.46568189), (46.599976147, 9.234382953), (50.155575705, 5.464479896), (39.772918478, 0)],
                knots=[0.928992033, 0.928992033, 0.928992033, 0.928992033, 1, 1, 1, 1], degree=3))
            add(Edge.make_bspline(
                [(-19.25560447, 167.961018402), (-13.197866885, 171.116352979), (-4.509931733, 176.751701246), (8.908740952, 178.680936261), (19.723089093, 181.451354957), (31.544757156, 178.806773782), (46.045243776, 175.875154186), (56.041185545, 165.133329857), (63.859310516, 153.49896678), (68.677116942, 142.032516888), (70.336392872, 128.027237021), (67.43864229, 113.818199307), (59.027553713, 103.225671363), (52.401388482, 91.913320762), (45.300641185, 81.451361059), (39.637303867, 68.651834704), (34.956753709, 56.010059063), (34.004307464, 36.344139985), (36.617316077, 21.730947854), (42.280473116, 13.46568189)],
                knots=[0, 0, 0, 0, 0.084550445, 0.121132484, 0.164743283, 0.218456627, 0.266343985, 0.342105399, 0.387006441, 0.438418171, 0.491501782, 0.557393562, 0.608145716, 0.654396635, 0.717407728, 0.761562844, 0.824888535, 0.8799568, 1, 1, 1, 1], degree=3))
        make_face(mode=Mode.SUBTRACT)
    extrude(amount=EXTRUDE_1_DEPTH)


solid = part.part
